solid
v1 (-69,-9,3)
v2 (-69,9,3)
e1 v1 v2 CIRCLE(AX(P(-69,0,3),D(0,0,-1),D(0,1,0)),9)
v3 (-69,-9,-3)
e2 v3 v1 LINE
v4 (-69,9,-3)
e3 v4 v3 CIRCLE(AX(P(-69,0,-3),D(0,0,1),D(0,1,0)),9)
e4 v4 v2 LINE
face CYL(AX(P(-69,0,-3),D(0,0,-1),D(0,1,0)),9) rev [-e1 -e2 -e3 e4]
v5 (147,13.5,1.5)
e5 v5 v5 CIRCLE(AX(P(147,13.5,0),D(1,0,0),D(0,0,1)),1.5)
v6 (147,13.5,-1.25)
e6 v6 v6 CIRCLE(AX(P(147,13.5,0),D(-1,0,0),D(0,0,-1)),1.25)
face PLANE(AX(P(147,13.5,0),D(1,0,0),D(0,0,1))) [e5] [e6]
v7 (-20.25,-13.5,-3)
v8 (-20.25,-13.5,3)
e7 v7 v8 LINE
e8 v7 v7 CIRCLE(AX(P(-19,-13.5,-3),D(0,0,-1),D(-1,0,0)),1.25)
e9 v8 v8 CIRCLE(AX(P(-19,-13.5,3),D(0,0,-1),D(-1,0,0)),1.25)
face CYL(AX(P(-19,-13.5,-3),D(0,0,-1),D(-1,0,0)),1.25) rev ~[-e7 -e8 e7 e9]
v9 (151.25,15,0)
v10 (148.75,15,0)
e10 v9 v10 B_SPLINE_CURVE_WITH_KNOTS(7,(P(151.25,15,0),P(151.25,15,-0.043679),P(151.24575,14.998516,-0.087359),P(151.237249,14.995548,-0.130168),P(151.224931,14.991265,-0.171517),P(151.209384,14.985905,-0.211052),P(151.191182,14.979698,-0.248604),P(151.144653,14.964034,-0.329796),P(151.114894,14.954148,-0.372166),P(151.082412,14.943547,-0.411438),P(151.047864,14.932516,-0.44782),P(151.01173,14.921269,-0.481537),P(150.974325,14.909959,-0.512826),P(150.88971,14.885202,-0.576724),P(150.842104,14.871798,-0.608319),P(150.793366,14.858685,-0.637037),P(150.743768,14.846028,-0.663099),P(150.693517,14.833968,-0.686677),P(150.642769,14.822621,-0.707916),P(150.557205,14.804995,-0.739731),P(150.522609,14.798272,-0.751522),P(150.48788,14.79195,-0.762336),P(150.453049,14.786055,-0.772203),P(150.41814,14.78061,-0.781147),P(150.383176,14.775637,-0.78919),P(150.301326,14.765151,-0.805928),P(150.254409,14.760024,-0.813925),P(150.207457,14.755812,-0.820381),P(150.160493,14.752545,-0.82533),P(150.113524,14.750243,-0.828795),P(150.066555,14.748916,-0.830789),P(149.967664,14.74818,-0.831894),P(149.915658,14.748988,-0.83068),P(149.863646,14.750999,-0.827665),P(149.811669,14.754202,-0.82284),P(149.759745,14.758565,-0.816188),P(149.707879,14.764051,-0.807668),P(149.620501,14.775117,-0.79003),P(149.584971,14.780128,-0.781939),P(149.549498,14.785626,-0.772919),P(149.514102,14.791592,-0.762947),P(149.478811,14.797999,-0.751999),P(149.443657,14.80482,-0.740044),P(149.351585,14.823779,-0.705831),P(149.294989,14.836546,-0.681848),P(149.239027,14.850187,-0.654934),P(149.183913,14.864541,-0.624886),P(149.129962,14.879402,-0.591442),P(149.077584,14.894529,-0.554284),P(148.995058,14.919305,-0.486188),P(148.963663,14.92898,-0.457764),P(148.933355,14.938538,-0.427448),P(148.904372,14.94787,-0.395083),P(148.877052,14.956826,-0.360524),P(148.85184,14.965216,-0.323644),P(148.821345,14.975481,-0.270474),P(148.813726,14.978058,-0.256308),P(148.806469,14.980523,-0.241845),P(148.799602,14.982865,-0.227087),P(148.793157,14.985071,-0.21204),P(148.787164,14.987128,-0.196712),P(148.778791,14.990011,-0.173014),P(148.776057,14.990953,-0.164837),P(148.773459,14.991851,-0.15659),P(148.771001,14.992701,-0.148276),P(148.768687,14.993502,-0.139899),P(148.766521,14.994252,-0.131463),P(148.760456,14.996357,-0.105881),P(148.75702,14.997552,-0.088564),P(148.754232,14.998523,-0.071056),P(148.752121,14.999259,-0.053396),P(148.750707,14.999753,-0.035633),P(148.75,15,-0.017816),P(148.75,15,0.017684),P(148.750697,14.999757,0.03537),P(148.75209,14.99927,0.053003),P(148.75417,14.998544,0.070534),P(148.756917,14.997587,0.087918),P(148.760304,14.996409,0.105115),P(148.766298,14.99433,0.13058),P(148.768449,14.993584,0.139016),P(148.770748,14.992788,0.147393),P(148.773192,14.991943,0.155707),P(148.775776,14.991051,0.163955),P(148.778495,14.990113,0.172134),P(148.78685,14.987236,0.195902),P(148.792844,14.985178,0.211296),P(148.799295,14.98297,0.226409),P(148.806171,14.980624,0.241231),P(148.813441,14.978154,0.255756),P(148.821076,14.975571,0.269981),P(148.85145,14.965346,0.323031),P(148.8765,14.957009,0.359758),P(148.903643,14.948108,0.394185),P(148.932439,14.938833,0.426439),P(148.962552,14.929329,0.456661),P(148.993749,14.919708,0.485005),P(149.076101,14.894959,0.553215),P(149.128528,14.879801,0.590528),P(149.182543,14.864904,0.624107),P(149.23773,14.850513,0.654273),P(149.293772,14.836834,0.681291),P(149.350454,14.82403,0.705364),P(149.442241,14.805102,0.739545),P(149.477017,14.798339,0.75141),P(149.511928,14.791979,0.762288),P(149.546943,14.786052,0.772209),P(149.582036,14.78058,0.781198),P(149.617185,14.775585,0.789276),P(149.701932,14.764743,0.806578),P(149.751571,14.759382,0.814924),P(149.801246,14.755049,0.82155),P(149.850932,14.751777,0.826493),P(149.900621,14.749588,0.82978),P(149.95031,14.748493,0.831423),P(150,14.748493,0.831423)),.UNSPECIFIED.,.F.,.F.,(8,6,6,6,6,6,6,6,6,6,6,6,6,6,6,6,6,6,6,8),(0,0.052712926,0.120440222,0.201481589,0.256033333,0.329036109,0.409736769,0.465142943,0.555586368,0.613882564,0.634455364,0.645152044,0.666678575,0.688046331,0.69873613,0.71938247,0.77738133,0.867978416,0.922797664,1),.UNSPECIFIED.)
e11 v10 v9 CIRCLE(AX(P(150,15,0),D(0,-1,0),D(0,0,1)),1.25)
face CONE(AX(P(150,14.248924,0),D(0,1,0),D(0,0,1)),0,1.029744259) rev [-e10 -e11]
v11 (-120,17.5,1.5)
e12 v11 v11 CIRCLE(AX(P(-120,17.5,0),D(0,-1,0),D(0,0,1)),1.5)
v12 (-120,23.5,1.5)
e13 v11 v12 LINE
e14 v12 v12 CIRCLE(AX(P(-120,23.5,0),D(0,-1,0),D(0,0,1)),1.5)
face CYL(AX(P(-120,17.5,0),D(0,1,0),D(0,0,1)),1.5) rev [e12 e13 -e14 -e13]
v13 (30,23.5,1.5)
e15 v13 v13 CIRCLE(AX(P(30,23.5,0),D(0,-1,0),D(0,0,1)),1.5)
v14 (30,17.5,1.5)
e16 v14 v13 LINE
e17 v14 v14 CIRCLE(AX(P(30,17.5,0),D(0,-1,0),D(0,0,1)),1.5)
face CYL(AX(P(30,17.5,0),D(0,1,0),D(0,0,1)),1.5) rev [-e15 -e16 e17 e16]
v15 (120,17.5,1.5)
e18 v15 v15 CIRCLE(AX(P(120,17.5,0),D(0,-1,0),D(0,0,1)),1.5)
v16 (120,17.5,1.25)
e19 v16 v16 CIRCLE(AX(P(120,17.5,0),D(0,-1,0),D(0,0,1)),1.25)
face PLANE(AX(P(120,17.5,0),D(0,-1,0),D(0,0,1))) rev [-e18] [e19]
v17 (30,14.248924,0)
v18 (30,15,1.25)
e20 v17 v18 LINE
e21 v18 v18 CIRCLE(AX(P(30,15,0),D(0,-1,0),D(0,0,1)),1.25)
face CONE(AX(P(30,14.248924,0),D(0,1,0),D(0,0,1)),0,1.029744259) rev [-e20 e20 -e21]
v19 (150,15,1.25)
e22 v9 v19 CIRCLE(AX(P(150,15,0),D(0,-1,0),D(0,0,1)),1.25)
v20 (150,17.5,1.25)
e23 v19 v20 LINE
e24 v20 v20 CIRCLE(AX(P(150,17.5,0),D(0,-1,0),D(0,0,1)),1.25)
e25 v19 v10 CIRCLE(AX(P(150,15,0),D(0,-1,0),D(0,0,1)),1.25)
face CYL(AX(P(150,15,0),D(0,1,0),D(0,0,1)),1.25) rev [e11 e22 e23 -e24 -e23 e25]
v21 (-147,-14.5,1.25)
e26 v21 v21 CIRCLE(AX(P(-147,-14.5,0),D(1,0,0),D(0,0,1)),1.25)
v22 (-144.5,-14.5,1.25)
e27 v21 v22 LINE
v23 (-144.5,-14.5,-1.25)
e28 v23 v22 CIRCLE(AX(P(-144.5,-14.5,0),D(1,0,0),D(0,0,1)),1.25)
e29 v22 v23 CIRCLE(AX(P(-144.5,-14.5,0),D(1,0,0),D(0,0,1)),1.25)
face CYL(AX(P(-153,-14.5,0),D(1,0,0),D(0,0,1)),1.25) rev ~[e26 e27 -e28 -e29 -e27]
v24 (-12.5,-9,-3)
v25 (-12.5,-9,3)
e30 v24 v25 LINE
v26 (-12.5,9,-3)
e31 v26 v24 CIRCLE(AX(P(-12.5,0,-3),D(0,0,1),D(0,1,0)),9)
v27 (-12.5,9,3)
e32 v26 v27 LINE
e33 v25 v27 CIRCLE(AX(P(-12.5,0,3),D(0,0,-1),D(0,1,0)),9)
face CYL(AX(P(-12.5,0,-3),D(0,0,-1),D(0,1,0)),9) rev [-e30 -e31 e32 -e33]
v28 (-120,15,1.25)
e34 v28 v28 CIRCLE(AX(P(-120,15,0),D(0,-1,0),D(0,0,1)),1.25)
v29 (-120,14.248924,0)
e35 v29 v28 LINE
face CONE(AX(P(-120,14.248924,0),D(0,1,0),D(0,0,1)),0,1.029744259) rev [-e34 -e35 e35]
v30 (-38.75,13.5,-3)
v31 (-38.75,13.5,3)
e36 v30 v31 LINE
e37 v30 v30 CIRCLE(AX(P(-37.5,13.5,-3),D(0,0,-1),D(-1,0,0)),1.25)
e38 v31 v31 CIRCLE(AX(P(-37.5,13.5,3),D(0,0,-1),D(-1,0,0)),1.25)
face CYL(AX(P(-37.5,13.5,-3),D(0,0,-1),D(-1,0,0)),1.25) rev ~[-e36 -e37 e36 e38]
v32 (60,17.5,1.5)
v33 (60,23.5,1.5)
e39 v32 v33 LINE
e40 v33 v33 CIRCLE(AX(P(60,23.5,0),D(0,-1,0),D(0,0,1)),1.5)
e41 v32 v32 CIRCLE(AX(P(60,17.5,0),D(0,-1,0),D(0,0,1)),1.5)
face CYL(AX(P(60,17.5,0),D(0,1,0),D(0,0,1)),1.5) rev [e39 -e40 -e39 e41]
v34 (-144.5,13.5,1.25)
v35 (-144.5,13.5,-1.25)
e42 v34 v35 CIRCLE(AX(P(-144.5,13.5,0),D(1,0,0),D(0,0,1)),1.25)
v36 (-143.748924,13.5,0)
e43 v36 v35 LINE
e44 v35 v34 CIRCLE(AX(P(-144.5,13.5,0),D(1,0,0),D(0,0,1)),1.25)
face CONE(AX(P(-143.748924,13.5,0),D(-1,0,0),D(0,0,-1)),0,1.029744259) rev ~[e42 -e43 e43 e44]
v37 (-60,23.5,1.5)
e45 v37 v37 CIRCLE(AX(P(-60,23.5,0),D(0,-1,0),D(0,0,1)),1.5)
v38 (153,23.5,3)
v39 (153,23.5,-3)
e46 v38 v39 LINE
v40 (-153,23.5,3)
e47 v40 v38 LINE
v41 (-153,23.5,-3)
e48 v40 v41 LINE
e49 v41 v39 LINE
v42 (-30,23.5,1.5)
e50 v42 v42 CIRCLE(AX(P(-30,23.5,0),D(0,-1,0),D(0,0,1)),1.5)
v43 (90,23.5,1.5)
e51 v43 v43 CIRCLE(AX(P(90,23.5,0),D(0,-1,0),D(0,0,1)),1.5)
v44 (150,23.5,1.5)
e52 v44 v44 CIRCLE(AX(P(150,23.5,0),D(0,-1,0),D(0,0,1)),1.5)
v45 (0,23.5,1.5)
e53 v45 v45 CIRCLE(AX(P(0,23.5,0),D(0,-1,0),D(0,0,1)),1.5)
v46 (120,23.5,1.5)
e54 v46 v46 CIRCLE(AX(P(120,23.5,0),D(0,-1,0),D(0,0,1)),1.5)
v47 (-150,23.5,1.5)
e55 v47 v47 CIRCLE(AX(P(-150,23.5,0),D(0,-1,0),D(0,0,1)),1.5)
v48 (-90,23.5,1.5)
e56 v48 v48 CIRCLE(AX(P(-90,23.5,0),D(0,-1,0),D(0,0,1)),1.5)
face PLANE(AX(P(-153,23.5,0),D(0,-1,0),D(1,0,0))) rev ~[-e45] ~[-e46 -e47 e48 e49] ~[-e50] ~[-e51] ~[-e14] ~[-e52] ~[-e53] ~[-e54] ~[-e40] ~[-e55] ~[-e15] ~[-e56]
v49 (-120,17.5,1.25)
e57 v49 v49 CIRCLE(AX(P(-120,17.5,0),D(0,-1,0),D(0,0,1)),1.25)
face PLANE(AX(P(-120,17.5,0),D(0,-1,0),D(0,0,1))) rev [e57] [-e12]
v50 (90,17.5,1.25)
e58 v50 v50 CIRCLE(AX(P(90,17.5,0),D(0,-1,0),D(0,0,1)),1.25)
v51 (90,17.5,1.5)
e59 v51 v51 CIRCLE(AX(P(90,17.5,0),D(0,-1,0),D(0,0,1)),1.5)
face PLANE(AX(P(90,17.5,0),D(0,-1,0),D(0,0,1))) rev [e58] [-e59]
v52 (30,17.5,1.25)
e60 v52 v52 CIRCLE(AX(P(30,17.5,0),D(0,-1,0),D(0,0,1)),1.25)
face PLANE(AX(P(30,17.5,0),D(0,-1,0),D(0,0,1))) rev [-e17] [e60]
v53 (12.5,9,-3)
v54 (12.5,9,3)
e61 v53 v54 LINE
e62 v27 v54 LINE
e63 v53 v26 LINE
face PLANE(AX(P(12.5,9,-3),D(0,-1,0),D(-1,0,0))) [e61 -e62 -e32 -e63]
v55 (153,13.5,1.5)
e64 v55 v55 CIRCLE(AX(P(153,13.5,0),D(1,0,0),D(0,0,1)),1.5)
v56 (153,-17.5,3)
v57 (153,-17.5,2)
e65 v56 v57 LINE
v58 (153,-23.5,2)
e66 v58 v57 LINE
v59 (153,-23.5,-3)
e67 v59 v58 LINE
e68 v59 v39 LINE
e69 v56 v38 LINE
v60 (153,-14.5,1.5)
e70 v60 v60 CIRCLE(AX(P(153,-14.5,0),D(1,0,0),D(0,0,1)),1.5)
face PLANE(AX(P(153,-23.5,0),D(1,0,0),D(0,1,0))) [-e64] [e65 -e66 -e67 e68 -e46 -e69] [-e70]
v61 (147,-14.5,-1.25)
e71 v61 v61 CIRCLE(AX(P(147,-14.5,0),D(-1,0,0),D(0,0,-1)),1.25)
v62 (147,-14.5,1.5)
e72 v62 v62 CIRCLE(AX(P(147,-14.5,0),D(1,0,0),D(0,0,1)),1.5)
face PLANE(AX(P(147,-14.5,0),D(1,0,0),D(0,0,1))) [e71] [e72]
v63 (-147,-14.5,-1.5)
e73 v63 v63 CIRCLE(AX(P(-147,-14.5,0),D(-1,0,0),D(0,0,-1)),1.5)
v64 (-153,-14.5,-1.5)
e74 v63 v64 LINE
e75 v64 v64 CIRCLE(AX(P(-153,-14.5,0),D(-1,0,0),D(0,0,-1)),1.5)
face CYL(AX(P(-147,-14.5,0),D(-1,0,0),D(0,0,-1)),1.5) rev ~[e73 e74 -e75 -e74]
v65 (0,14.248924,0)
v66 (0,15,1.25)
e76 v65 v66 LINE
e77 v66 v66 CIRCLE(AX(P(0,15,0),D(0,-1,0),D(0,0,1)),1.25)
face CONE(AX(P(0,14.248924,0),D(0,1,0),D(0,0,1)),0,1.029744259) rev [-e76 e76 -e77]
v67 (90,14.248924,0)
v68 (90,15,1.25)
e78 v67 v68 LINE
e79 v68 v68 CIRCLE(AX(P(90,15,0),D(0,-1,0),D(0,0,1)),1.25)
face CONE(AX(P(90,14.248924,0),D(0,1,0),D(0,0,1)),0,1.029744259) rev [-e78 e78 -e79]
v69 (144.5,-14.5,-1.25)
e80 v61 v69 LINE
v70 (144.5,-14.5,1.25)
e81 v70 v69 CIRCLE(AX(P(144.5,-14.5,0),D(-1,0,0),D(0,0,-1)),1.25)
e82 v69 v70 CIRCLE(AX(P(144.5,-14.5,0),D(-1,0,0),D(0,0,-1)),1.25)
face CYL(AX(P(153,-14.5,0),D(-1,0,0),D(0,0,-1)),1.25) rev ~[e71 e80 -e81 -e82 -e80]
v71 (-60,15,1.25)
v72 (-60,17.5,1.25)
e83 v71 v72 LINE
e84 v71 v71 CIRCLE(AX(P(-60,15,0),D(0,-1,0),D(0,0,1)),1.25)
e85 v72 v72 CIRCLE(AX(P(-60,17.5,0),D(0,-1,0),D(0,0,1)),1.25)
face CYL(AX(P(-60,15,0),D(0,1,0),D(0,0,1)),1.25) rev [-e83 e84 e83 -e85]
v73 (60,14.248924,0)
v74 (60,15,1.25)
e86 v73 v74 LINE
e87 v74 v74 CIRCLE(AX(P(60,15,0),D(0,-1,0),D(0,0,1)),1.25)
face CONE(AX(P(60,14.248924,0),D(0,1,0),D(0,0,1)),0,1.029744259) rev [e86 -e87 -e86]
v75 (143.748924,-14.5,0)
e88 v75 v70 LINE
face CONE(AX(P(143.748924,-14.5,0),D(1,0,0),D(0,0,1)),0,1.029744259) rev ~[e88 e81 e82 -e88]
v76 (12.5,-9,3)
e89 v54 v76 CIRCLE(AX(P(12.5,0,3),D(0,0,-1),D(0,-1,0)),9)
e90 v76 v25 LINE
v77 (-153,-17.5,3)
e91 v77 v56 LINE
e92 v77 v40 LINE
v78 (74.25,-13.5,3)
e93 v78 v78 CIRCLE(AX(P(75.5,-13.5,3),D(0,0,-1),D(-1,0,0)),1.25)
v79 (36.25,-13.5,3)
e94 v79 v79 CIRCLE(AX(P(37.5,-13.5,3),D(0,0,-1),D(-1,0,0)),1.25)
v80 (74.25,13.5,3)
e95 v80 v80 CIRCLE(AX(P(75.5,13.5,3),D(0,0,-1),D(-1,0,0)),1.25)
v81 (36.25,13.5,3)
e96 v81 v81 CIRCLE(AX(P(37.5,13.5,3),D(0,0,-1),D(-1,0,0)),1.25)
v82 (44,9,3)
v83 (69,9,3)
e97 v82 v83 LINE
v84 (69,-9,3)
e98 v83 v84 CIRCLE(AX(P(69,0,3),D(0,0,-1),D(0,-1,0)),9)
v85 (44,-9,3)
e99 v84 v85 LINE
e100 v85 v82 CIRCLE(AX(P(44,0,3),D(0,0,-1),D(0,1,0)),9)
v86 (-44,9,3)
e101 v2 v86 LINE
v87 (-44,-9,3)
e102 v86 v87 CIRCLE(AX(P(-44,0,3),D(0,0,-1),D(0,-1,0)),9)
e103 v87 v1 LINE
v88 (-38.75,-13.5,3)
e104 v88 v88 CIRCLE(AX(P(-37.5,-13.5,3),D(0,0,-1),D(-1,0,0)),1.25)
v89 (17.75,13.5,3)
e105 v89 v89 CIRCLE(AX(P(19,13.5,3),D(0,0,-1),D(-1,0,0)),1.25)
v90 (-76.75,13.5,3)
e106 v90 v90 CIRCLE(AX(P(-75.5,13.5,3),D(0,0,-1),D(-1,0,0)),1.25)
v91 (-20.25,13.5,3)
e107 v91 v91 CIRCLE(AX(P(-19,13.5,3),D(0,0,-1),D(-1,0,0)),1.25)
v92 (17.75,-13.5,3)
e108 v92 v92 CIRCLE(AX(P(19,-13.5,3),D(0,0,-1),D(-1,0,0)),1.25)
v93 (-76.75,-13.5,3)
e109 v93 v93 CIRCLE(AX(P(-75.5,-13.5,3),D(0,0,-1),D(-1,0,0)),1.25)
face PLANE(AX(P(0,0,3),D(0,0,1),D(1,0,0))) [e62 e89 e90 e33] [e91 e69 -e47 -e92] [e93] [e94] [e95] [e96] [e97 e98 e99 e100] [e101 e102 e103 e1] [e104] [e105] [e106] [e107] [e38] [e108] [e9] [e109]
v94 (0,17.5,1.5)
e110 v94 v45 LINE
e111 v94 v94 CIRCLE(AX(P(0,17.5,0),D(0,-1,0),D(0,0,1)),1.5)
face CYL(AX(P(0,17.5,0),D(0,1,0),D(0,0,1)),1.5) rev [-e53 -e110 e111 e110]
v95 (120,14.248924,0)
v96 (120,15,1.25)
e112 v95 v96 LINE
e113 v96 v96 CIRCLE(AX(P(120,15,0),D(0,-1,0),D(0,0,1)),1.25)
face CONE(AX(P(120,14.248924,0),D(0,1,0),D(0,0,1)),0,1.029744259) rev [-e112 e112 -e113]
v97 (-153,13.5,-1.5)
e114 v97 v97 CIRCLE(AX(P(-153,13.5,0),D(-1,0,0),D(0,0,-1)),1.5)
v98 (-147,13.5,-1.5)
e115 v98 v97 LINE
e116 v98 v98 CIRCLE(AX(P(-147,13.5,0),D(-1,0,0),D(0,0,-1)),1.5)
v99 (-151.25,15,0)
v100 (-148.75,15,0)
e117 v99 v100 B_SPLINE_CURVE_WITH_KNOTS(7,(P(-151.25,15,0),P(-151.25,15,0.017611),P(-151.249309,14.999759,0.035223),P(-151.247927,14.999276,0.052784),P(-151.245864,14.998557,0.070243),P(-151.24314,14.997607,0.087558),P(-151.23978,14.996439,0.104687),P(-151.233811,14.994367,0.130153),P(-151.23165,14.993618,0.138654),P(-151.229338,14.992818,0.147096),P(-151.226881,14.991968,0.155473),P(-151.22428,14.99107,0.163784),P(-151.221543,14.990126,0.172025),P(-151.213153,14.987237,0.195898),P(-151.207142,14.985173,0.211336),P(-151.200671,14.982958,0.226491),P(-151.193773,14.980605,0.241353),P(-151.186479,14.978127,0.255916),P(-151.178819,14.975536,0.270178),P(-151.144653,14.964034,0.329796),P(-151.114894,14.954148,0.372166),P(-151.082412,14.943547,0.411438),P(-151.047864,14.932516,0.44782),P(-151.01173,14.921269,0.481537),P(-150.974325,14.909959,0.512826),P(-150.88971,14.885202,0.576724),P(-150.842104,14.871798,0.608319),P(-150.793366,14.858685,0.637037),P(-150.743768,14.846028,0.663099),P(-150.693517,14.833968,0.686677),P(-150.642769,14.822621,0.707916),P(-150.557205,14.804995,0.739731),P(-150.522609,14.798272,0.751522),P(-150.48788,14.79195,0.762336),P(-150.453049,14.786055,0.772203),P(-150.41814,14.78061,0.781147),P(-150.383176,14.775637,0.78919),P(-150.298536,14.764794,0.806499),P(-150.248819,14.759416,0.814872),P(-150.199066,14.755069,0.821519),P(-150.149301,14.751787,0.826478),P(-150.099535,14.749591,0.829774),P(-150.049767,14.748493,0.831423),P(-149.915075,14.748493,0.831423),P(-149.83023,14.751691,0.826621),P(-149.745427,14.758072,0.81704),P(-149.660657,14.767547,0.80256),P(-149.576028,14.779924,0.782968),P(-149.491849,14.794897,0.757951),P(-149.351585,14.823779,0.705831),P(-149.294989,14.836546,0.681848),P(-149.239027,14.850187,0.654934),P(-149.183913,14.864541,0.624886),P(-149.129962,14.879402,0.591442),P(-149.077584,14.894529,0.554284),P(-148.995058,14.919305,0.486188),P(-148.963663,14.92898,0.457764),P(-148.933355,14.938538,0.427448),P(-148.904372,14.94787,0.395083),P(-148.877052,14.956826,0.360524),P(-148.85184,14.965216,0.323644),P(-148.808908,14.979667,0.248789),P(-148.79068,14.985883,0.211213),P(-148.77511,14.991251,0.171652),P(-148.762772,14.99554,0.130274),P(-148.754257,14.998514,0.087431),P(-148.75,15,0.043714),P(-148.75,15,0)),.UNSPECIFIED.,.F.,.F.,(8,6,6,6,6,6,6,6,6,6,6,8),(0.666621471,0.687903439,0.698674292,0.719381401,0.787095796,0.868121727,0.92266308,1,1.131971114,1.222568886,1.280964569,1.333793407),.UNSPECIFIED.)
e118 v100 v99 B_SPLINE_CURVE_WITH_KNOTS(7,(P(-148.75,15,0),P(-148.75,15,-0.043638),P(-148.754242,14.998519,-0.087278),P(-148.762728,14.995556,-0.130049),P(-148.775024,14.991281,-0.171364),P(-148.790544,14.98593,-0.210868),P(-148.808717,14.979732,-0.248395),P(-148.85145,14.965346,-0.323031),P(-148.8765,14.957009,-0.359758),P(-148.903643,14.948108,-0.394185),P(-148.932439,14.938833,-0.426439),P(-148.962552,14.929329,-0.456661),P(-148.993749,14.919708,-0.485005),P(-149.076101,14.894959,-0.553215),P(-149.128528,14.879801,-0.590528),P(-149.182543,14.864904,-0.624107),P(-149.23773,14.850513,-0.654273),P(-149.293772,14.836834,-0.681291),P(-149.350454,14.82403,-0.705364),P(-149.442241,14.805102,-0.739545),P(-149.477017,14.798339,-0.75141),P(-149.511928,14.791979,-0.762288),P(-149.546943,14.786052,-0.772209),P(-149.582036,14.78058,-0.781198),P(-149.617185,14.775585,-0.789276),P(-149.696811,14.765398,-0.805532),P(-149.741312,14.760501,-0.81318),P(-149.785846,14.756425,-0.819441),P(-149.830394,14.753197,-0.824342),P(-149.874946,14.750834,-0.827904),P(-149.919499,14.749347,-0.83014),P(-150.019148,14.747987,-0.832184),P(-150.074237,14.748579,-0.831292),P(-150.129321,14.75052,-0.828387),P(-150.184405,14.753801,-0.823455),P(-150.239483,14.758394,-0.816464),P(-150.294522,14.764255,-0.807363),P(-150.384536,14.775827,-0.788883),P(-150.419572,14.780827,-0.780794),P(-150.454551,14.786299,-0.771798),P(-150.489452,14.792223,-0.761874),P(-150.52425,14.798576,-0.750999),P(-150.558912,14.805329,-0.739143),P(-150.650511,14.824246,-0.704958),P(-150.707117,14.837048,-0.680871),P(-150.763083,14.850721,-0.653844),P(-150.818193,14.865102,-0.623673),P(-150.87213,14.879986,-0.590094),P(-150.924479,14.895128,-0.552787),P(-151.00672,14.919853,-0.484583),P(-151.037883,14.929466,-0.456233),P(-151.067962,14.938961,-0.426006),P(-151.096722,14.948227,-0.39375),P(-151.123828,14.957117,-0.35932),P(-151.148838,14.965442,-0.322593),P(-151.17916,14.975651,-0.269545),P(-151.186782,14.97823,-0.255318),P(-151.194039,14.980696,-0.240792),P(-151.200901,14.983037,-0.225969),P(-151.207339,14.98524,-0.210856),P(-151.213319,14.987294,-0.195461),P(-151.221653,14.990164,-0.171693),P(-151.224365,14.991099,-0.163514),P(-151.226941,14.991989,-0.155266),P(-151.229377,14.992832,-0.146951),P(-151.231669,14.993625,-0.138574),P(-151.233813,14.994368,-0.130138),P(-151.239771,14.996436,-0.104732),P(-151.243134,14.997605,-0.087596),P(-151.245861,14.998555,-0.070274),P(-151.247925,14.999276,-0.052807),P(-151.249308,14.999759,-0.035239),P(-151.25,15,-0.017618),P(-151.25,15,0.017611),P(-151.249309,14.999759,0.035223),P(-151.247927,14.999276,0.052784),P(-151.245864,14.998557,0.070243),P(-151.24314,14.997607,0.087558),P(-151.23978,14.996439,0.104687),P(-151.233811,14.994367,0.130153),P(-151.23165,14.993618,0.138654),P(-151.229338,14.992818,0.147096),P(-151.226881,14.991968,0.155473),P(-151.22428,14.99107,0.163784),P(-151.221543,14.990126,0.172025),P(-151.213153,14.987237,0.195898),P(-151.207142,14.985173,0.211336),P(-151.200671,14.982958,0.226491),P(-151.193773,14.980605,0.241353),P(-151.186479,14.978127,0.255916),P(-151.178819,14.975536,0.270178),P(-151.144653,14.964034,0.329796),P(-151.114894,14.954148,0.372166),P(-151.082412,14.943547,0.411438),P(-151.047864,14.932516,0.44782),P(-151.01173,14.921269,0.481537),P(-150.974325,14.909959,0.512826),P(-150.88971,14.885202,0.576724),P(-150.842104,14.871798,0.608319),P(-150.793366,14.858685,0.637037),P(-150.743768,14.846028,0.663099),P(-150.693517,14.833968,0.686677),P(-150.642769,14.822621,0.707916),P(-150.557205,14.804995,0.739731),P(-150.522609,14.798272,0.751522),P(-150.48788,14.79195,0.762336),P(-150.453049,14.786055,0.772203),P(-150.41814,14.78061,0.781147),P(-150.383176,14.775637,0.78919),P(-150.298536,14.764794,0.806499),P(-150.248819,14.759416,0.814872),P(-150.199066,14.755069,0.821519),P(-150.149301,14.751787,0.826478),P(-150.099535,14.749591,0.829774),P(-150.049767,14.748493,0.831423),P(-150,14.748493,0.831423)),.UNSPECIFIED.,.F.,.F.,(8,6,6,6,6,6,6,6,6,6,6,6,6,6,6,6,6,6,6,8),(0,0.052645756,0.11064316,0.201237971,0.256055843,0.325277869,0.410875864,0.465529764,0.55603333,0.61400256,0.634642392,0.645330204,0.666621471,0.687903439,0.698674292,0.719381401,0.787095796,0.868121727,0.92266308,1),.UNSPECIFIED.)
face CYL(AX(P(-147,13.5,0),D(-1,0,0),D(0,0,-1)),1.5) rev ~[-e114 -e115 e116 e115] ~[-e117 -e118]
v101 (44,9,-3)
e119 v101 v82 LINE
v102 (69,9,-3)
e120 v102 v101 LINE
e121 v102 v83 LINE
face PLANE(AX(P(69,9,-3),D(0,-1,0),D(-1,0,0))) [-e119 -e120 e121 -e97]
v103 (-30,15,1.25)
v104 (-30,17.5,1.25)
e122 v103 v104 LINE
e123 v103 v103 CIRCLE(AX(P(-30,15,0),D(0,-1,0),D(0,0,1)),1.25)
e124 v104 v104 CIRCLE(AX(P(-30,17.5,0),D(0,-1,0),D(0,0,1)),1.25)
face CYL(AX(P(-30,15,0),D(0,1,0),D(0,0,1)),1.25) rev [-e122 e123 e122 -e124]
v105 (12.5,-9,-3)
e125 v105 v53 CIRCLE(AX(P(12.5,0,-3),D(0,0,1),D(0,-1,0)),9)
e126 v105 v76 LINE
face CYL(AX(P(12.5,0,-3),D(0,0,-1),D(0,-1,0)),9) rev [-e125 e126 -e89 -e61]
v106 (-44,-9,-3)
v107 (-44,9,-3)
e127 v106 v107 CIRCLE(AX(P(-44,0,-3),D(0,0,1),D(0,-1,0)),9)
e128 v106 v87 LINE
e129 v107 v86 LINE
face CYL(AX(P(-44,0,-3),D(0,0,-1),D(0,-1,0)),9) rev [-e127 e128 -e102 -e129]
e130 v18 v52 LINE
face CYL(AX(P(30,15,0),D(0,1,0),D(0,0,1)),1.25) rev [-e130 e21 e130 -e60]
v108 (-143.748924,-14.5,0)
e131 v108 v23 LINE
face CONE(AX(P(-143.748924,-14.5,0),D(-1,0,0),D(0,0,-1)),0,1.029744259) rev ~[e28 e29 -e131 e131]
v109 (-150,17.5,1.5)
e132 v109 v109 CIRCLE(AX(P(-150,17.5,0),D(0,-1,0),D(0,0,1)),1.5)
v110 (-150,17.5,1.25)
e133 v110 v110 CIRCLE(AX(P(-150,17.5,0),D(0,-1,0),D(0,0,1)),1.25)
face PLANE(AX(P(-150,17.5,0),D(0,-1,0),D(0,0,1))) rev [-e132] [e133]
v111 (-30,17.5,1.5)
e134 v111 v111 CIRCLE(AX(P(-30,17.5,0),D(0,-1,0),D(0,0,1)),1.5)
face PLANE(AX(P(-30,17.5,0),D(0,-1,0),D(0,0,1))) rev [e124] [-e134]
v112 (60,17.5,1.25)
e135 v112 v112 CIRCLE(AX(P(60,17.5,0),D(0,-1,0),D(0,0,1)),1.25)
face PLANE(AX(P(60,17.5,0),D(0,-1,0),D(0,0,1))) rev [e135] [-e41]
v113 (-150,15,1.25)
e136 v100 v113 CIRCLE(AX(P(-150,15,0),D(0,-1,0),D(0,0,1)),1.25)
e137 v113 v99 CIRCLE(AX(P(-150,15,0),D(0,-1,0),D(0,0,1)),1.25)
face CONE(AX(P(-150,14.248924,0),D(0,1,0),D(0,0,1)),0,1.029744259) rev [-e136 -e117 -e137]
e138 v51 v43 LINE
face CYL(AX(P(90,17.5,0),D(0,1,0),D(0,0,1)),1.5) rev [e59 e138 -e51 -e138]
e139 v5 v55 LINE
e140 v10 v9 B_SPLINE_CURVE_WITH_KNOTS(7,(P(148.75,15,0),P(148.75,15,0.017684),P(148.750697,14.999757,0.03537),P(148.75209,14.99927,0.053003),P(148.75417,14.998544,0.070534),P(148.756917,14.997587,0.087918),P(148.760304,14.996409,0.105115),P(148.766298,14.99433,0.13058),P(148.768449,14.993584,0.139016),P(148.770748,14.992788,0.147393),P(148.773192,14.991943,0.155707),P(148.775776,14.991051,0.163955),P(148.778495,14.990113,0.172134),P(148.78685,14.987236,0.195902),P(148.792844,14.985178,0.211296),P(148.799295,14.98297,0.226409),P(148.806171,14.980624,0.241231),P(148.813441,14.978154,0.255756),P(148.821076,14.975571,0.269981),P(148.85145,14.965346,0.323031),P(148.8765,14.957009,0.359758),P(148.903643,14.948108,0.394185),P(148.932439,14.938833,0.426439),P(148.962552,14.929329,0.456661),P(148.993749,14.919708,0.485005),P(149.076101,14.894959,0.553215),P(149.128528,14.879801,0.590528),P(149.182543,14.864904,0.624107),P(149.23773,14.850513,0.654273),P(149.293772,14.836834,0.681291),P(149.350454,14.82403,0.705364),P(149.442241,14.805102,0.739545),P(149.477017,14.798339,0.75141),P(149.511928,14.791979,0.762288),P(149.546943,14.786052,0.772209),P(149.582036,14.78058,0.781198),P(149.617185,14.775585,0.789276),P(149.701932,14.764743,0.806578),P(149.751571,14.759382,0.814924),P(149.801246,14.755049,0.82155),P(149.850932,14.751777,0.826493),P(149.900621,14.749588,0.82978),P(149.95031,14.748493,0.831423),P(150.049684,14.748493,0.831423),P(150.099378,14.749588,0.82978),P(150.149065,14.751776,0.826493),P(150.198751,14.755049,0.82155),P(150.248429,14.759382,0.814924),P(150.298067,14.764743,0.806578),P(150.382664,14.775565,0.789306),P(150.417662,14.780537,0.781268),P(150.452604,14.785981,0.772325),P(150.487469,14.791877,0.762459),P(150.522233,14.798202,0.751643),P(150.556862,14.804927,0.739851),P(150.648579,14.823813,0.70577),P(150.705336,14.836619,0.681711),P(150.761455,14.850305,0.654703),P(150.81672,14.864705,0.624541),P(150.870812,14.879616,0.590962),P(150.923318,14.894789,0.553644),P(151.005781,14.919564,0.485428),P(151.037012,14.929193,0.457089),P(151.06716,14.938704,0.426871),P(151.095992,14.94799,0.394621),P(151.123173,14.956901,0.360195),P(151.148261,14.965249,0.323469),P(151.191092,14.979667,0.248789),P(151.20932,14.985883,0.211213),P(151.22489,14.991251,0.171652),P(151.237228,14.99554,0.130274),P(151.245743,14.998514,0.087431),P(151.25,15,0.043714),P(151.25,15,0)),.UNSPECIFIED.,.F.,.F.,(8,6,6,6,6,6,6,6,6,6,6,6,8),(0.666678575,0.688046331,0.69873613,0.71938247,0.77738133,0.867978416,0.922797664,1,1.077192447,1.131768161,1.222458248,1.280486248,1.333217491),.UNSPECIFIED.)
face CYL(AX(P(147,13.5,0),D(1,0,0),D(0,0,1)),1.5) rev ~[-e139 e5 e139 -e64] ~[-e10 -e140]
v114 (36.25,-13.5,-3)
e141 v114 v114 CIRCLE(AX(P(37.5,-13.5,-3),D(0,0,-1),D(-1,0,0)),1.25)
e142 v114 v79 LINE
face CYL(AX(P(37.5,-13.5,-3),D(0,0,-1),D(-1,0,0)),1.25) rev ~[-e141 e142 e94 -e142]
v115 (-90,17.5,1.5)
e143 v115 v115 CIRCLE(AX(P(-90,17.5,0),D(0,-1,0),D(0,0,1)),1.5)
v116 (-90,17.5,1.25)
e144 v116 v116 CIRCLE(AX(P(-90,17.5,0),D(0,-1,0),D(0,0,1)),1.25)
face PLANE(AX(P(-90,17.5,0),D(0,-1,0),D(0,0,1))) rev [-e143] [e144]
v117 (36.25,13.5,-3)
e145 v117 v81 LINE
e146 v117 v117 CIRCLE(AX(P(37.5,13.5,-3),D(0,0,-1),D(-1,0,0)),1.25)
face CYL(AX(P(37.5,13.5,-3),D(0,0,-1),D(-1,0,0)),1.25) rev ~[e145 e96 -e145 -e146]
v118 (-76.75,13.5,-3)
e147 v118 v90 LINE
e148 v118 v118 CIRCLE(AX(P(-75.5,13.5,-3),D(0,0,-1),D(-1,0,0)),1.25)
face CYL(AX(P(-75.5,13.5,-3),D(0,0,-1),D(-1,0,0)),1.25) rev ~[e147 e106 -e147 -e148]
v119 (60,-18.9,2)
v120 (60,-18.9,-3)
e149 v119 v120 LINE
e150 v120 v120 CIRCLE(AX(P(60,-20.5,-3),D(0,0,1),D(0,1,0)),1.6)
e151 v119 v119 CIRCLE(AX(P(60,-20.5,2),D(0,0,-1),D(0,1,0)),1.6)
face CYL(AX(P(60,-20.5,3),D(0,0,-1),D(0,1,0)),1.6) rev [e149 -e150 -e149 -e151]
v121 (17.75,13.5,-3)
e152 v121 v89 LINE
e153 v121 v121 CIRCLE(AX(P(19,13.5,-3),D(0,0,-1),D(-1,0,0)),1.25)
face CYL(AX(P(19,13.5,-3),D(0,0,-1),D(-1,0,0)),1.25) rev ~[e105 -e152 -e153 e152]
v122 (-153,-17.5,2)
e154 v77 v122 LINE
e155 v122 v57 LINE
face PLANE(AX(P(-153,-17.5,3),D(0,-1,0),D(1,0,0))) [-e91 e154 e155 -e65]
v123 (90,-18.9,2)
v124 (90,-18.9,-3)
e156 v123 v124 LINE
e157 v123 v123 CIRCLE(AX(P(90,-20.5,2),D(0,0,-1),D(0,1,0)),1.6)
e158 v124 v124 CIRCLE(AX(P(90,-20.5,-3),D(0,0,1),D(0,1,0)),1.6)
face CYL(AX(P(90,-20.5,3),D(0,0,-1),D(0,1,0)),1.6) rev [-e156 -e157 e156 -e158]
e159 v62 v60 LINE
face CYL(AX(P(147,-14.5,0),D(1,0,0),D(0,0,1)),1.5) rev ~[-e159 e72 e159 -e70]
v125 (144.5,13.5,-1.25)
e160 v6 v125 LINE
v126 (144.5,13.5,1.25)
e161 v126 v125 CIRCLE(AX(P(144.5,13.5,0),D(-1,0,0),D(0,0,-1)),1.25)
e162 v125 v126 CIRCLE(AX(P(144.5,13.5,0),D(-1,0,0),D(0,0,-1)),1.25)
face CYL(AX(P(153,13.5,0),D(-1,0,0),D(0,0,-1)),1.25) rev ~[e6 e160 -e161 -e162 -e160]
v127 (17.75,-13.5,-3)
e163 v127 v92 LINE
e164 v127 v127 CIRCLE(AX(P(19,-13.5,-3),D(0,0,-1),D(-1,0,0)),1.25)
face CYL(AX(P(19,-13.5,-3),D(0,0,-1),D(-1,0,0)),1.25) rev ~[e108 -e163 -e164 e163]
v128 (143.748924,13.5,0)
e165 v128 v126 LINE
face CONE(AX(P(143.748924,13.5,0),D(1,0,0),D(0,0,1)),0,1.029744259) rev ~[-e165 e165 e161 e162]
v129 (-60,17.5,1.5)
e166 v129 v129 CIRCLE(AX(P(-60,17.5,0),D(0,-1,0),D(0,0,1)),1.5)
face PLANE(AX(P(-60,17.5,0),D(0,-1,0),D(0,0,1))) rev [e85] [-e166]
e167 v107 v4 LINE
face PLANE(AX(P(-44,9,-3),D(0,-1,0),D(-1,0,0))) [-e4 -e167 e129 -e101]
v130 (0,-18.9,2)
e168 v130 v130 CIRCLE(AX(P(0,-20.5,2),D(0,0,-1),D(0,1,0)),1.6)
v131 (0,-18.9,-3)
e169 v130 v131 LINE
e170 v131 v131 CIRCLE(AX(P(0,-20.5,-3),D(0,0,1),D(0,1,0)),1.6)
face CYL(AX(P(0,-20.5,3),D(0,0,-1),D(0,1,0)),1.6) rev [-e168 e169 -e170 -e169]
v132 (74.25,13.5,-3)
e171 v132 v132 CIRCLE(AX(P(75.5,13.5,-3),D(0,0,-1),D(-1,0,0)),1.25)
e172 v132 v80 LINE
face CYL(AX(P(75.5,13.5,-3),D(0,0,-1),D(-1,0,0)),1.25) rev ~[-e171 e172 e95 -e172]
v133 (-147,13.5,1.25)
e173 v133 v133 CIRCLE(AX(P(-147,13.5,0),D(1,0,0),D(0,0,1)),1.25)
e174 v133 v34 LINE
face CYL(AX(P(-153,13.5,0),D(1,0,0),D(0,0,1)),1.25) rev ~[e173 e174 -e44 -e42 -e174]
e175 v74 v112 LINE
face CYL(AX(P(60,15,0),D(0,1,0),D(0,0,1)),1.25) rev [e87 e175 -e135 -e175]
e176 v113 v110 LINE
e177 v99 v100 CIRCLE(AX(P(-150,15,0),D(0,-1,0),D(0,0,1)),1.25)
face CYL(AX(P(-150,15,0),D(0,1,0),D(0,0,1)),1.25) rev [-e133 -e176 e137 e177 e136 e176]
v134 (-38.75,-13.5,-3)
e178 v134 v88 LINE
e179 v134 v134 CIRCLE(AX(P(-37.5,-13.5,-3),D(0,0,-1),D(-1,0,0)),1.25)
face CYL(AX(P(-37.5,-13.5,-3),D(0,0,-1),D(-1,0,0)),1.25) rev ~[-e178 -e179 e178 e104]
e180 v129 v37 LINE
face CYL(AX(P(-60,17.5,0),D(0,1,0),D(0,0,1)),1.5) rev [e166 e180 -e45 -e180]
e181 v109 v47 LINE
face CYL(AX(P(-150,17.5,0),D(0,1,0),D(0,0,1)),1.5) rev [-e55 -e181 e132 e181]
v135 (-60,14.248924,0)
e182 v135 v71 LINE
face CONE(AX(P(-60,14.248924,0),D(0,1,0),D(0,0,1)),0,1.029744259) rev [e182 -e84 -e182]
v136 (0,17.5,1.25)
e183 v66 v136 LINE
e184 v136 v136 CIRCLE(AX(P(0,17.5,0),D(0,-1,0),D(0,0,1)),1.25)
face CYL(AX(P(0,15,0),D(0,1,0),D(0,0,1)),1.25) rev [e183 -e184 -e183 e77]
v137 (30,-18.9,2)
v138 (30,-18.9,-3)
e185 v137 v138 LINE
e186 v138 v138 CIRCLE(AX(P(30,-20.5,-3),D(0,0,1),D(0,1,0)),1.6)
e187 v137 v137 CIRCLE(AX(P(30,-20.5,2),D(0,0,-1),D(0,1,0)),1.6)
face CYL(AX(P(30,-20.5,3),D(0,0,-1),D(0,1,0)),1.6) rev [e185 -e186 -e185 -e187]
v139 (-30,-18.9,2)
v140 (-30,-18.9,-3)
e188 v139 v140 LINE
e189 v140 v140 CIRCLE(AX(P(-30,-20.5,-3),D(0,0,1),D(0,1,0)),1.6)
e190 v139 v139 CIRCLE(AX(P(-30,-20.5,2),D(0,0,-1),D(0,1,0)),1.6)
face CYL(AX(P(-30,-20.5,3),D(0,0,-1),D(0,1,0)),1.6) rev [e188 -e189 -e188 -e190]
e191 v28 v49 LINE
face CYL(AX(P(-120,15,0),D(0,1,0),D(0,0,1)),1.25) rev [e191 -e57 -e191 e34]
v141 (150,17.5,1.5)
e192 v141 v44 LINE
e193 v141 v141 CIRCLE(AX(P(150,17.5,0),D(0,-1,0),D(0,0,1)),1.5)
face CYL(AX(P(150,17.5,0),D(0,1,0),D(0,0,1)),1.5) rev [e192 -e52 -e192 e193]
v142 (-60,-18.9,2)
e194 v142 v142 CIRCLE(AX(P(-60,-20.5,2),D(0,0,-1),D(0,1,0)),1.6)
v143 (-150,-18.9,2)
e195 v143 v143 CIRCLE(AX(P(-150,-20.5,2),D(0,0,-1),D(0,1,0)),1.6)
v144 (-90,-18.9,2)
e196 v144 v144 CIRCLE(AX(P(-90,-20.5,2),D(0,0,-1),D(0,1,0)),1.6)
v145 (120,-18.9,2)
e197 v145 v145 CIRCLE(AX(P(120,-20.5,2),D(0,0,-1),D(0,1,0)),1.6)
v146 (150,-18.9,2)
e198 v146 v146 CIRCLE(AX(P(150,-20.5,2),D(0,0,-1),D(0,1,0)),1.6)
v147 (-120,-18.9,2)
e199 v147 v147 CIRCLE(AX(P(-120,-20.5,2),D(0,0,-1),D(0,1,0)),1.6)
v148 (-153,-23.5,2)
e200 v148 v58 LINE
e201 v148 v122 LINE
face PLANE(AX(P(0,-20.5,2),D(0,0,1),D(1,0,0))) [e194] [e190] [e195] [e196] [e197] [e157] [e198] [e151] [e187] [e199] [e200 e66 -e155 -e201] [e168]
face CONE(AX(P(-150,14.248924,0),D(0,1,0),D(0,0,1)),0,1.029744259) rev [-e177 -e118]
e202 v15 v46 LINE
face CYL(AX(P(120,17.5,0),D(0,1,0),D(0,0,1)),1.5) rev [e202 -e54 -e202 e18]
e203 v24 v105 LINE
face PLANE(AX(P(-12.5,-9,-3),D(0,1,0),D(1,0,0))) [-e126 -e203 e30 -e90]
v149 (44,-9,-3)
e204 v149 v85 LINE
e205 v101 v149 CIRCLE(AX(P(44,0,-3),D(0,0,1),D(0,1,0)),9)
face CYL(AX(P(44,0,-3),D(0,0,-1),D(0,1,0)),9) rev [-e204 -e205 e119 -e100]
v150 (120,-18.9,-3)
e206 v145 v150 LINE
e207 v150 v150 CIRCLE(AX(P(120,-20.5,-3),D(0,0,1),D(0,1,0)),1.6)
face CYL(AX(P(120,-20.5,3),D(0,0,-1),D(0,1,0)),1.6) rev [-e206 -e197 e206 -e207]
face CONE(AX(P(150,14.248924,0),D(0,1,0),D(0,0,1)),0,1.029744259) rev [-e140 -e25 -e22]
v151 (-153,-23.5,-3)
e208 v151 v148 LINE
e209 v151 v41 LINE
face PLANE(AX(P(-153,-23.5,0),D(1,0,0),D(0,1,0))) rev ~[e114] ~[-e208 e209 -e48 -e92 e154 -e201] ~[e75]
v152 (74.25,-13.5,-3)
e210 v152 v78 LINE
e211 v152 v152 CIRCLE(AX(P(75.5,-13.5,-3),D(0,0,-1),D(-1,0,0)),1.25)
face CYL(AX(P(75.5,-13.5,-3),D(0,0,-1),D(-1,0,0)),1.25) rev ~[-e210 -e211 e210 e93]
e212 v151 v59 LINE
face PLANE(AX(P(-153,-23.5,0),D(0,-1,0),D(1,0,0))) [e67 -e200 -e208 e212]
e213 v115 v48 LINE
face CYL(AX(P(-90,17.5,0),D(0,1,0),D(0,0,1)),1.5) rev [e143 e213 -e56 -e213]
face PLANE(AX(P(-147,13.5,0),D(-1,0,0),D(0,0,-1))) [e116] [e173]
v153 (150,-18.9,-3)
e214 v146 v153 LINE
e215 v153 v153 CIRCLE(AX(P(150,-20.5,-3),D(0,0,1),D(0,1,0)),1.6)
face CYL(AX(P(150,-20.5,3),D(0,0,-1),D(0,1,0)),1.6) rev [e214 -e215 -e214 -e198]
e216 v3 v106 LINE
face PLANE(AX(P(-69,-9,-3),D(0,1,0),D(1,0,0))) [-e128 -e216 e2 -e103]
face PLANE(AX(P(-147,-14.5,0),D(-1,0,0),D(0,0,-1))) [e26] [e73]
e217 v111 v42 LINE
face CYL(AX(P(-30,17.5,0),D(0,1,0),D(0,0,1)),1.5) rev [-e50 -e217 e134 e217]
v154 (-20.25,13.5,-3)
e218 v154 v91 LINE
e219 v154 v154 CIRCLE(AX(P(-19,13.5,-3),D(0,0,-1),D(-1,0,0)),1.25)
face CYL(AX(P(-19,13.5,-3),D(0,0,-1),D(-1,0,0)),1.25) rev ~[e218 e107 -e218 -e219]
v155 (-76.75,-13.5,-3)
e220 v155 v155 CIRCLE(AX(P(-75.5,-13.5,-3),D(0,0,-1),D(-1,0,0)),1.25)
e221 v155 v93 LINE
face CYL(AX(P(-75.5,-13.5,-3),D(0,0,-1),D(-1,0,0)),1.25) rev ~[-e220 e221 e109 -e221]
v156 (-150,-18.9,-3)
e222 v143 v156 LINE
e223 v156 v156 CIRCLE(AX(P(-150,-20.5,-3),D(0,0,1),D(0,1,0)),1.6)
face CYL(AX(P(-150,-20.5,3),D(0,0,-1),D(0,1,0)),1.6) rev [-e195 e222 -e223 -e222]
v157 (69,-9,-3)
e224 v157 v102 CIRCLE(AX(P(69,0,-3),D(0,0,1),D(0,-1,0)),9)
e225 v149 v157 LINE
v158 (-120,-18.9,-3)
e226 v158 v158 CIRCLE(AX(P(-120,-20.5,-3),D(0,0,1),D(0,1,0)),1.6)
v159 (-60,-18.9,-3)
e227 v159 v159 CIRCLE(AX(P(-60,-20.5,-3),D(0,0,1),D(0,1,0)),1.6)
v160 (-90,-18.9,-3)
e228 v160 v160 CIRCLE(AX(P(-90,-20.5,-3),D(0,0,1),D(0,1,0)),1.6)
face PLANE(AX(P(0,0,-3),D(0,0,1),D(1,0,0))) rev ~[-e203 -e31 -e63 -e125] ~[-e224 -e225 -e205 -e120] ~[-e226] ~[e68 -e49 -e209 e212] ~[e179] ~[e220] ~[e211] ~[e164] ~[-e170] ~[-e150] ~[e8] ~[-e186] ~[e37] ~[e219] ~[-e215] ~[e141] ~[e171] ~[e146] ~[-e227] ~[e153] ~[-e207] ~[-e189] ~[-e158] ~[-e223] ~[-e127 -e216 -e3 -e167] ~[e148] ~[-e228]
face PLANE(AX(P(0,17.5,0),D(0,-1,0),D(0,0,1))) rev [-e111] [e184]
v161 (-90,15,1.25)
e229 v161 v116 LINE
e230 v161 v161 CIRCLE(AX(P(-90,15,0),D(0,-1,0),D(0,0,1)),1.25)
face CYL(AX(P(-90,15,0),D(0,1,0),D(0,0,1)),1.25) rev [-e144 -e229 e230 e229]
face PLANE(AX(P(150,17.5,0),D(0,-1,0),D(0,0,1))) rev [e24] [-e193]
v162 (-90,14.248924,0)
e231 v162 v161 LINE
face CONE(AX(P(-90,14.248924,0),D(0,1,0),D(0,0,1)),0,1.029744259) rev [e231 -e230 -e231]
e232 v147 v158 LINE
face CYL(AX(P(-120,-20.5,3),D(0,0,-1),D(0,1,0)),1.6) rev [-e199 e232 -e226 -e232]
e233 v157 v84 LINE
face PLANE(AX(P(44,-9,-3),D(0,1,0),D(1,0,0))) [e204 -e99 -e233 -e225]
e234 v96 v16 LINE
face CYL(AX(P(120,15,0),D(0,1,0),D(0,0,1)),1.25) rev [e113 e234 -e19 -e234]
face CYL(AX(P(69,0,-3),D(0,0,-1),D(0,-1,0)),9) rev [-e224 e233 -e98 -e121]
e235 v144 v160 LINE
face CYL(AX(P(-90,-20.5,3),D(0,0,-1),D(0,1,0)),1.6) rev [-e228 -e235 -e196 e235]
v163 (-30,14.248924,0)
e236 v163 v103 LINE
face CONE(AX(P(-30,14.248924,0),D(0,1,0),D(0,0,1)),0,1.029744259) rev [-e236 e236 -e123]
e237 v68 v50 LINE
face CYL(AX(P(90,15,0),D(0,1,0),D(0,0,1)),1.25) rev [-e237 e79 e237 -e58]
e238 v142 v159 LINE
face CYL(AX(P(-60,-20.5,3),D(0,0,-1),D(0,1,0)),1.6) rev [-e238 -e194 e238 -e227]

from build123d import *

# Parameters (mm, degrees)
SKETCH_1_W                     = 306
SKETCH_1_H                     = 47
EXTRUDE_1_DEPTH                = 3
CUT_EXTRUDE_START              = 3
SKETCH_1_4_W                   = 306
SKETCH_1_4_H                   = 6
CUT_EXTRUDE_1_DEPTH            = 1
M3X0_5_3_D                     = 2.5
M3X0_5_3_DEPTH                 = 8.5
M3X0_5_3_CBORE_D               = 3
M3X0_5_3_CBORE_DEPTH           = 6
M3X0_5_3_TIP                   = 0.751075774
M3X0_5_3_ON_FACE_2_D           = 2.5
M3X0_5_3_ON_FACE_2_DEPTH       = 8.5
M3X0_5_3_ON_FACE_2_CBORE_D     = 3
M3X0_5_3_ON_FACE_2_CBORE_DEPTH = 6
M3X0_5_3_ON_FACE_2_TIP         = 0.751075774
PATTERN_LINEAR_1_COUNT         = 11
PATTERN_LINEAR_1_PITCH         = 30
SKETCH_7_R                     = 1.25
CUT_EXTRUDE_2_DEPTH            = 155.910458106


with BuildPart() as part:
    # ｽｹｯﾁ1 → ﾎﾞｽ - 押し出し1 (new, symmetric)
    with BuildSketch(Plane.XY):
        Rectangle(SKETCH_1_W, SKETCH_1_H)
    extrude(amount=EXTRUDE_1_DEPTH, both=True)

    # ｽｹｯﾁ1<4> → ｶｯﾄ - 押し出し1 (cut)
    with BuildSketch(Plane.XY.offset(CUT_EXTRUDE_START)):
        with Locations((0, -20.5)):
            Rectangle(SKETCH_1_4_W, SKETCH_1_4_H)
    extrude(amount=-CUT_EXTRUDE_1_DEPTH, mode=Mode.SUBTRACT)

    # ｽｹｯﾁ2 → M3 すきま穴1 (revolve, cut)
    with BuildSketch(Plane(origin=(-150, -20.5, -3), x_dir=(0, 1, 0), z_dir=(1, 0, 0))):
        Polygon((0, 0), (0, 6.96137699), (1.6, 6), (1.6, 0), align=None)
    hole_wizard_m3_1 = revolve(axis=Axis((-150, -20.5, -9.35), (0, 0, 1)), mode=Mode.SUBTRACT)

    # M3x0.5 ねじ穴3
    with Locations(Plane(origin=(-153, 13.5, 0), x_dir=(0, 0, -1), z_dir=(-1, 0, 0))):
        with Locations((0, 0), (0, 28)):
            CounterBoreHole(M3X0_5_3_D / 2, M3X0_5_3_CBORE_D / 2, M3X0_5_3_CBORE_DEPTH, depth=M3X0_5_3_DEPTH)
            with Locations((0, 0, -(M3X0_5_3_DEPTH + M3X0_5_3_TIP / 2))):  # 118° drill point
                Cone(0, M3X0_5_3_D / 2, M3X0_5_3_TIP, mode=Mode.SUBTRACT)

    # M3x0.5 ねじ穴3 on face 2
    with Locations(Plane(origin=(153, 13.5, 0), x_dir=(0, 0, 1), z_dir=(1, 0, 0))):
        with Locations((0, 0), (0, 28)):
            CounterBoreHole(M3X0_5_3_ON_FACE_2_D / 2, M3X0_5_3_ON_FACE_2_CBORE_D / 2, M3X0_5_3_ON_FACE_2_CBORE_DEPTH, depth=M3X0_5_3_ON_FACE_2_DEPTH)
            with Locations((0, 0, -(M3X0_5_3_ON_FACE_2_DEPTH + M3X0_5_3_ON_FACE_2_TIP / 2))):  # 118° drill point
                Cone(0, M3X0_5_3_ON_FACE_2_D / 2, M3X0_5_3_ON_FACE_2_TIP, mode=Mode.SUBTRACT)

    # ｽｹｯﾁ6 → M3x0.5 ねじ穴2 (revolve, cut)
    with BuildSketch(Plane(origin=(-150, 23.5, 0), x_dir=(0, 0, 1), z_dir=(1, 0, 0))):
        Polygon((0, 0), (0, 9.251075774), (1.25, 8.5), (1.25, 6), (1.5, 6), (1.5, 0), align=None)
    m3x0_5_2 = revolve(axis=Axis((-150, 29.85, 0), (0, -1, 0)), mode=Mode.SUBTRACT)

    # 直線ﾊﾟﾀｰﾝ1: M3 すきま穴1, M3x0.5 ねじ穴2 ×11
    with Locations(*[(i * PATTERN_LINEAR_1_PITCH, 0, 0) for i in range(1, PATTERN_LINEAR_1_COUNT)]):
        add(hole_wizard_m3_1, mode=Mode.SUBTRACT)
        add(m3x0_5_2, mode=Mode.SUBTRACT)

    # ｽｹｯﾁ7 → ｶｯﾄ - 押し出し2 (cut, through all)
    with BuildSketch(Plane(origin=(0, 0, -3), x_dir=(-1, 0, 0), z_dir=(0, 0, -1))):
        with Locations((37.5, 13.5)):
            Circle(SKETCH_7_R)
        with Locations((75.5, 13.5)):
            Circle(SKETCH_7_R)
        with Locations((37.5, -13.5)):
            Circle(SKETCH_7_R)
        with Locations((75.5, -13.5)):
            Circle(SKETCH_7_R)
        with Locations((-19, 13.5)):
            Circle(SKETCH_7_R)
        with Locations((19, 13.5)):
            Circle(SKETCH_7_R)
        with Locations((-19, -13.5)):
            Circle(SKETCH_7_R)
        with Locations((19, -13.5)):
            Circle(SKETCH_7_R)
        with Locations((-75.5, 13.5)):
            Circle(SKETCH_7_R)
        with Locations((-37.5, 13.5)):
            Circle(SKETCH_7_R)
        with Locations((-75.5, -13.5)):
            Circle(SKETCH_7_R)
        with Locations((-37.5, -13.5)):
            Circle(SKETCH_7_R)
        with BuildLine():
            Line((69, -9), (44, -9))
            ThreePointArc((44, -9), (35, 0), (44, 9))
            Line((44, 9), (69, 9))
            ThreePointArc((69, 9), (78, 0), (69, -9))
        make_face()
        with BuildLine():
            Line((12.5, -9), (-12.5, -9))
            ThreePointArc((-12.5, -9), (-21.5, 0), (-12.5, 9))
            Line((-12.5, 9), (12.5, 9))
            ThreePointArc((12.5, 9), (21.5, 0), (12.5, -9))
        make_face()
        with BuildLine():
            Line((-44, -9), (-69, -9))
            ThreePointArc((-69, -9), (-78, 0), (-69, 9))
            Line((-69, 9), (-44, 9))
            ThreePointArc((-44, 9), (-35, 0), (-44, -9))
        make_face()
    extrude(amount=-CUT_EXTRUDE_2_DEPTH, mode=Mode.SUBTRACT)


solid = part.part
